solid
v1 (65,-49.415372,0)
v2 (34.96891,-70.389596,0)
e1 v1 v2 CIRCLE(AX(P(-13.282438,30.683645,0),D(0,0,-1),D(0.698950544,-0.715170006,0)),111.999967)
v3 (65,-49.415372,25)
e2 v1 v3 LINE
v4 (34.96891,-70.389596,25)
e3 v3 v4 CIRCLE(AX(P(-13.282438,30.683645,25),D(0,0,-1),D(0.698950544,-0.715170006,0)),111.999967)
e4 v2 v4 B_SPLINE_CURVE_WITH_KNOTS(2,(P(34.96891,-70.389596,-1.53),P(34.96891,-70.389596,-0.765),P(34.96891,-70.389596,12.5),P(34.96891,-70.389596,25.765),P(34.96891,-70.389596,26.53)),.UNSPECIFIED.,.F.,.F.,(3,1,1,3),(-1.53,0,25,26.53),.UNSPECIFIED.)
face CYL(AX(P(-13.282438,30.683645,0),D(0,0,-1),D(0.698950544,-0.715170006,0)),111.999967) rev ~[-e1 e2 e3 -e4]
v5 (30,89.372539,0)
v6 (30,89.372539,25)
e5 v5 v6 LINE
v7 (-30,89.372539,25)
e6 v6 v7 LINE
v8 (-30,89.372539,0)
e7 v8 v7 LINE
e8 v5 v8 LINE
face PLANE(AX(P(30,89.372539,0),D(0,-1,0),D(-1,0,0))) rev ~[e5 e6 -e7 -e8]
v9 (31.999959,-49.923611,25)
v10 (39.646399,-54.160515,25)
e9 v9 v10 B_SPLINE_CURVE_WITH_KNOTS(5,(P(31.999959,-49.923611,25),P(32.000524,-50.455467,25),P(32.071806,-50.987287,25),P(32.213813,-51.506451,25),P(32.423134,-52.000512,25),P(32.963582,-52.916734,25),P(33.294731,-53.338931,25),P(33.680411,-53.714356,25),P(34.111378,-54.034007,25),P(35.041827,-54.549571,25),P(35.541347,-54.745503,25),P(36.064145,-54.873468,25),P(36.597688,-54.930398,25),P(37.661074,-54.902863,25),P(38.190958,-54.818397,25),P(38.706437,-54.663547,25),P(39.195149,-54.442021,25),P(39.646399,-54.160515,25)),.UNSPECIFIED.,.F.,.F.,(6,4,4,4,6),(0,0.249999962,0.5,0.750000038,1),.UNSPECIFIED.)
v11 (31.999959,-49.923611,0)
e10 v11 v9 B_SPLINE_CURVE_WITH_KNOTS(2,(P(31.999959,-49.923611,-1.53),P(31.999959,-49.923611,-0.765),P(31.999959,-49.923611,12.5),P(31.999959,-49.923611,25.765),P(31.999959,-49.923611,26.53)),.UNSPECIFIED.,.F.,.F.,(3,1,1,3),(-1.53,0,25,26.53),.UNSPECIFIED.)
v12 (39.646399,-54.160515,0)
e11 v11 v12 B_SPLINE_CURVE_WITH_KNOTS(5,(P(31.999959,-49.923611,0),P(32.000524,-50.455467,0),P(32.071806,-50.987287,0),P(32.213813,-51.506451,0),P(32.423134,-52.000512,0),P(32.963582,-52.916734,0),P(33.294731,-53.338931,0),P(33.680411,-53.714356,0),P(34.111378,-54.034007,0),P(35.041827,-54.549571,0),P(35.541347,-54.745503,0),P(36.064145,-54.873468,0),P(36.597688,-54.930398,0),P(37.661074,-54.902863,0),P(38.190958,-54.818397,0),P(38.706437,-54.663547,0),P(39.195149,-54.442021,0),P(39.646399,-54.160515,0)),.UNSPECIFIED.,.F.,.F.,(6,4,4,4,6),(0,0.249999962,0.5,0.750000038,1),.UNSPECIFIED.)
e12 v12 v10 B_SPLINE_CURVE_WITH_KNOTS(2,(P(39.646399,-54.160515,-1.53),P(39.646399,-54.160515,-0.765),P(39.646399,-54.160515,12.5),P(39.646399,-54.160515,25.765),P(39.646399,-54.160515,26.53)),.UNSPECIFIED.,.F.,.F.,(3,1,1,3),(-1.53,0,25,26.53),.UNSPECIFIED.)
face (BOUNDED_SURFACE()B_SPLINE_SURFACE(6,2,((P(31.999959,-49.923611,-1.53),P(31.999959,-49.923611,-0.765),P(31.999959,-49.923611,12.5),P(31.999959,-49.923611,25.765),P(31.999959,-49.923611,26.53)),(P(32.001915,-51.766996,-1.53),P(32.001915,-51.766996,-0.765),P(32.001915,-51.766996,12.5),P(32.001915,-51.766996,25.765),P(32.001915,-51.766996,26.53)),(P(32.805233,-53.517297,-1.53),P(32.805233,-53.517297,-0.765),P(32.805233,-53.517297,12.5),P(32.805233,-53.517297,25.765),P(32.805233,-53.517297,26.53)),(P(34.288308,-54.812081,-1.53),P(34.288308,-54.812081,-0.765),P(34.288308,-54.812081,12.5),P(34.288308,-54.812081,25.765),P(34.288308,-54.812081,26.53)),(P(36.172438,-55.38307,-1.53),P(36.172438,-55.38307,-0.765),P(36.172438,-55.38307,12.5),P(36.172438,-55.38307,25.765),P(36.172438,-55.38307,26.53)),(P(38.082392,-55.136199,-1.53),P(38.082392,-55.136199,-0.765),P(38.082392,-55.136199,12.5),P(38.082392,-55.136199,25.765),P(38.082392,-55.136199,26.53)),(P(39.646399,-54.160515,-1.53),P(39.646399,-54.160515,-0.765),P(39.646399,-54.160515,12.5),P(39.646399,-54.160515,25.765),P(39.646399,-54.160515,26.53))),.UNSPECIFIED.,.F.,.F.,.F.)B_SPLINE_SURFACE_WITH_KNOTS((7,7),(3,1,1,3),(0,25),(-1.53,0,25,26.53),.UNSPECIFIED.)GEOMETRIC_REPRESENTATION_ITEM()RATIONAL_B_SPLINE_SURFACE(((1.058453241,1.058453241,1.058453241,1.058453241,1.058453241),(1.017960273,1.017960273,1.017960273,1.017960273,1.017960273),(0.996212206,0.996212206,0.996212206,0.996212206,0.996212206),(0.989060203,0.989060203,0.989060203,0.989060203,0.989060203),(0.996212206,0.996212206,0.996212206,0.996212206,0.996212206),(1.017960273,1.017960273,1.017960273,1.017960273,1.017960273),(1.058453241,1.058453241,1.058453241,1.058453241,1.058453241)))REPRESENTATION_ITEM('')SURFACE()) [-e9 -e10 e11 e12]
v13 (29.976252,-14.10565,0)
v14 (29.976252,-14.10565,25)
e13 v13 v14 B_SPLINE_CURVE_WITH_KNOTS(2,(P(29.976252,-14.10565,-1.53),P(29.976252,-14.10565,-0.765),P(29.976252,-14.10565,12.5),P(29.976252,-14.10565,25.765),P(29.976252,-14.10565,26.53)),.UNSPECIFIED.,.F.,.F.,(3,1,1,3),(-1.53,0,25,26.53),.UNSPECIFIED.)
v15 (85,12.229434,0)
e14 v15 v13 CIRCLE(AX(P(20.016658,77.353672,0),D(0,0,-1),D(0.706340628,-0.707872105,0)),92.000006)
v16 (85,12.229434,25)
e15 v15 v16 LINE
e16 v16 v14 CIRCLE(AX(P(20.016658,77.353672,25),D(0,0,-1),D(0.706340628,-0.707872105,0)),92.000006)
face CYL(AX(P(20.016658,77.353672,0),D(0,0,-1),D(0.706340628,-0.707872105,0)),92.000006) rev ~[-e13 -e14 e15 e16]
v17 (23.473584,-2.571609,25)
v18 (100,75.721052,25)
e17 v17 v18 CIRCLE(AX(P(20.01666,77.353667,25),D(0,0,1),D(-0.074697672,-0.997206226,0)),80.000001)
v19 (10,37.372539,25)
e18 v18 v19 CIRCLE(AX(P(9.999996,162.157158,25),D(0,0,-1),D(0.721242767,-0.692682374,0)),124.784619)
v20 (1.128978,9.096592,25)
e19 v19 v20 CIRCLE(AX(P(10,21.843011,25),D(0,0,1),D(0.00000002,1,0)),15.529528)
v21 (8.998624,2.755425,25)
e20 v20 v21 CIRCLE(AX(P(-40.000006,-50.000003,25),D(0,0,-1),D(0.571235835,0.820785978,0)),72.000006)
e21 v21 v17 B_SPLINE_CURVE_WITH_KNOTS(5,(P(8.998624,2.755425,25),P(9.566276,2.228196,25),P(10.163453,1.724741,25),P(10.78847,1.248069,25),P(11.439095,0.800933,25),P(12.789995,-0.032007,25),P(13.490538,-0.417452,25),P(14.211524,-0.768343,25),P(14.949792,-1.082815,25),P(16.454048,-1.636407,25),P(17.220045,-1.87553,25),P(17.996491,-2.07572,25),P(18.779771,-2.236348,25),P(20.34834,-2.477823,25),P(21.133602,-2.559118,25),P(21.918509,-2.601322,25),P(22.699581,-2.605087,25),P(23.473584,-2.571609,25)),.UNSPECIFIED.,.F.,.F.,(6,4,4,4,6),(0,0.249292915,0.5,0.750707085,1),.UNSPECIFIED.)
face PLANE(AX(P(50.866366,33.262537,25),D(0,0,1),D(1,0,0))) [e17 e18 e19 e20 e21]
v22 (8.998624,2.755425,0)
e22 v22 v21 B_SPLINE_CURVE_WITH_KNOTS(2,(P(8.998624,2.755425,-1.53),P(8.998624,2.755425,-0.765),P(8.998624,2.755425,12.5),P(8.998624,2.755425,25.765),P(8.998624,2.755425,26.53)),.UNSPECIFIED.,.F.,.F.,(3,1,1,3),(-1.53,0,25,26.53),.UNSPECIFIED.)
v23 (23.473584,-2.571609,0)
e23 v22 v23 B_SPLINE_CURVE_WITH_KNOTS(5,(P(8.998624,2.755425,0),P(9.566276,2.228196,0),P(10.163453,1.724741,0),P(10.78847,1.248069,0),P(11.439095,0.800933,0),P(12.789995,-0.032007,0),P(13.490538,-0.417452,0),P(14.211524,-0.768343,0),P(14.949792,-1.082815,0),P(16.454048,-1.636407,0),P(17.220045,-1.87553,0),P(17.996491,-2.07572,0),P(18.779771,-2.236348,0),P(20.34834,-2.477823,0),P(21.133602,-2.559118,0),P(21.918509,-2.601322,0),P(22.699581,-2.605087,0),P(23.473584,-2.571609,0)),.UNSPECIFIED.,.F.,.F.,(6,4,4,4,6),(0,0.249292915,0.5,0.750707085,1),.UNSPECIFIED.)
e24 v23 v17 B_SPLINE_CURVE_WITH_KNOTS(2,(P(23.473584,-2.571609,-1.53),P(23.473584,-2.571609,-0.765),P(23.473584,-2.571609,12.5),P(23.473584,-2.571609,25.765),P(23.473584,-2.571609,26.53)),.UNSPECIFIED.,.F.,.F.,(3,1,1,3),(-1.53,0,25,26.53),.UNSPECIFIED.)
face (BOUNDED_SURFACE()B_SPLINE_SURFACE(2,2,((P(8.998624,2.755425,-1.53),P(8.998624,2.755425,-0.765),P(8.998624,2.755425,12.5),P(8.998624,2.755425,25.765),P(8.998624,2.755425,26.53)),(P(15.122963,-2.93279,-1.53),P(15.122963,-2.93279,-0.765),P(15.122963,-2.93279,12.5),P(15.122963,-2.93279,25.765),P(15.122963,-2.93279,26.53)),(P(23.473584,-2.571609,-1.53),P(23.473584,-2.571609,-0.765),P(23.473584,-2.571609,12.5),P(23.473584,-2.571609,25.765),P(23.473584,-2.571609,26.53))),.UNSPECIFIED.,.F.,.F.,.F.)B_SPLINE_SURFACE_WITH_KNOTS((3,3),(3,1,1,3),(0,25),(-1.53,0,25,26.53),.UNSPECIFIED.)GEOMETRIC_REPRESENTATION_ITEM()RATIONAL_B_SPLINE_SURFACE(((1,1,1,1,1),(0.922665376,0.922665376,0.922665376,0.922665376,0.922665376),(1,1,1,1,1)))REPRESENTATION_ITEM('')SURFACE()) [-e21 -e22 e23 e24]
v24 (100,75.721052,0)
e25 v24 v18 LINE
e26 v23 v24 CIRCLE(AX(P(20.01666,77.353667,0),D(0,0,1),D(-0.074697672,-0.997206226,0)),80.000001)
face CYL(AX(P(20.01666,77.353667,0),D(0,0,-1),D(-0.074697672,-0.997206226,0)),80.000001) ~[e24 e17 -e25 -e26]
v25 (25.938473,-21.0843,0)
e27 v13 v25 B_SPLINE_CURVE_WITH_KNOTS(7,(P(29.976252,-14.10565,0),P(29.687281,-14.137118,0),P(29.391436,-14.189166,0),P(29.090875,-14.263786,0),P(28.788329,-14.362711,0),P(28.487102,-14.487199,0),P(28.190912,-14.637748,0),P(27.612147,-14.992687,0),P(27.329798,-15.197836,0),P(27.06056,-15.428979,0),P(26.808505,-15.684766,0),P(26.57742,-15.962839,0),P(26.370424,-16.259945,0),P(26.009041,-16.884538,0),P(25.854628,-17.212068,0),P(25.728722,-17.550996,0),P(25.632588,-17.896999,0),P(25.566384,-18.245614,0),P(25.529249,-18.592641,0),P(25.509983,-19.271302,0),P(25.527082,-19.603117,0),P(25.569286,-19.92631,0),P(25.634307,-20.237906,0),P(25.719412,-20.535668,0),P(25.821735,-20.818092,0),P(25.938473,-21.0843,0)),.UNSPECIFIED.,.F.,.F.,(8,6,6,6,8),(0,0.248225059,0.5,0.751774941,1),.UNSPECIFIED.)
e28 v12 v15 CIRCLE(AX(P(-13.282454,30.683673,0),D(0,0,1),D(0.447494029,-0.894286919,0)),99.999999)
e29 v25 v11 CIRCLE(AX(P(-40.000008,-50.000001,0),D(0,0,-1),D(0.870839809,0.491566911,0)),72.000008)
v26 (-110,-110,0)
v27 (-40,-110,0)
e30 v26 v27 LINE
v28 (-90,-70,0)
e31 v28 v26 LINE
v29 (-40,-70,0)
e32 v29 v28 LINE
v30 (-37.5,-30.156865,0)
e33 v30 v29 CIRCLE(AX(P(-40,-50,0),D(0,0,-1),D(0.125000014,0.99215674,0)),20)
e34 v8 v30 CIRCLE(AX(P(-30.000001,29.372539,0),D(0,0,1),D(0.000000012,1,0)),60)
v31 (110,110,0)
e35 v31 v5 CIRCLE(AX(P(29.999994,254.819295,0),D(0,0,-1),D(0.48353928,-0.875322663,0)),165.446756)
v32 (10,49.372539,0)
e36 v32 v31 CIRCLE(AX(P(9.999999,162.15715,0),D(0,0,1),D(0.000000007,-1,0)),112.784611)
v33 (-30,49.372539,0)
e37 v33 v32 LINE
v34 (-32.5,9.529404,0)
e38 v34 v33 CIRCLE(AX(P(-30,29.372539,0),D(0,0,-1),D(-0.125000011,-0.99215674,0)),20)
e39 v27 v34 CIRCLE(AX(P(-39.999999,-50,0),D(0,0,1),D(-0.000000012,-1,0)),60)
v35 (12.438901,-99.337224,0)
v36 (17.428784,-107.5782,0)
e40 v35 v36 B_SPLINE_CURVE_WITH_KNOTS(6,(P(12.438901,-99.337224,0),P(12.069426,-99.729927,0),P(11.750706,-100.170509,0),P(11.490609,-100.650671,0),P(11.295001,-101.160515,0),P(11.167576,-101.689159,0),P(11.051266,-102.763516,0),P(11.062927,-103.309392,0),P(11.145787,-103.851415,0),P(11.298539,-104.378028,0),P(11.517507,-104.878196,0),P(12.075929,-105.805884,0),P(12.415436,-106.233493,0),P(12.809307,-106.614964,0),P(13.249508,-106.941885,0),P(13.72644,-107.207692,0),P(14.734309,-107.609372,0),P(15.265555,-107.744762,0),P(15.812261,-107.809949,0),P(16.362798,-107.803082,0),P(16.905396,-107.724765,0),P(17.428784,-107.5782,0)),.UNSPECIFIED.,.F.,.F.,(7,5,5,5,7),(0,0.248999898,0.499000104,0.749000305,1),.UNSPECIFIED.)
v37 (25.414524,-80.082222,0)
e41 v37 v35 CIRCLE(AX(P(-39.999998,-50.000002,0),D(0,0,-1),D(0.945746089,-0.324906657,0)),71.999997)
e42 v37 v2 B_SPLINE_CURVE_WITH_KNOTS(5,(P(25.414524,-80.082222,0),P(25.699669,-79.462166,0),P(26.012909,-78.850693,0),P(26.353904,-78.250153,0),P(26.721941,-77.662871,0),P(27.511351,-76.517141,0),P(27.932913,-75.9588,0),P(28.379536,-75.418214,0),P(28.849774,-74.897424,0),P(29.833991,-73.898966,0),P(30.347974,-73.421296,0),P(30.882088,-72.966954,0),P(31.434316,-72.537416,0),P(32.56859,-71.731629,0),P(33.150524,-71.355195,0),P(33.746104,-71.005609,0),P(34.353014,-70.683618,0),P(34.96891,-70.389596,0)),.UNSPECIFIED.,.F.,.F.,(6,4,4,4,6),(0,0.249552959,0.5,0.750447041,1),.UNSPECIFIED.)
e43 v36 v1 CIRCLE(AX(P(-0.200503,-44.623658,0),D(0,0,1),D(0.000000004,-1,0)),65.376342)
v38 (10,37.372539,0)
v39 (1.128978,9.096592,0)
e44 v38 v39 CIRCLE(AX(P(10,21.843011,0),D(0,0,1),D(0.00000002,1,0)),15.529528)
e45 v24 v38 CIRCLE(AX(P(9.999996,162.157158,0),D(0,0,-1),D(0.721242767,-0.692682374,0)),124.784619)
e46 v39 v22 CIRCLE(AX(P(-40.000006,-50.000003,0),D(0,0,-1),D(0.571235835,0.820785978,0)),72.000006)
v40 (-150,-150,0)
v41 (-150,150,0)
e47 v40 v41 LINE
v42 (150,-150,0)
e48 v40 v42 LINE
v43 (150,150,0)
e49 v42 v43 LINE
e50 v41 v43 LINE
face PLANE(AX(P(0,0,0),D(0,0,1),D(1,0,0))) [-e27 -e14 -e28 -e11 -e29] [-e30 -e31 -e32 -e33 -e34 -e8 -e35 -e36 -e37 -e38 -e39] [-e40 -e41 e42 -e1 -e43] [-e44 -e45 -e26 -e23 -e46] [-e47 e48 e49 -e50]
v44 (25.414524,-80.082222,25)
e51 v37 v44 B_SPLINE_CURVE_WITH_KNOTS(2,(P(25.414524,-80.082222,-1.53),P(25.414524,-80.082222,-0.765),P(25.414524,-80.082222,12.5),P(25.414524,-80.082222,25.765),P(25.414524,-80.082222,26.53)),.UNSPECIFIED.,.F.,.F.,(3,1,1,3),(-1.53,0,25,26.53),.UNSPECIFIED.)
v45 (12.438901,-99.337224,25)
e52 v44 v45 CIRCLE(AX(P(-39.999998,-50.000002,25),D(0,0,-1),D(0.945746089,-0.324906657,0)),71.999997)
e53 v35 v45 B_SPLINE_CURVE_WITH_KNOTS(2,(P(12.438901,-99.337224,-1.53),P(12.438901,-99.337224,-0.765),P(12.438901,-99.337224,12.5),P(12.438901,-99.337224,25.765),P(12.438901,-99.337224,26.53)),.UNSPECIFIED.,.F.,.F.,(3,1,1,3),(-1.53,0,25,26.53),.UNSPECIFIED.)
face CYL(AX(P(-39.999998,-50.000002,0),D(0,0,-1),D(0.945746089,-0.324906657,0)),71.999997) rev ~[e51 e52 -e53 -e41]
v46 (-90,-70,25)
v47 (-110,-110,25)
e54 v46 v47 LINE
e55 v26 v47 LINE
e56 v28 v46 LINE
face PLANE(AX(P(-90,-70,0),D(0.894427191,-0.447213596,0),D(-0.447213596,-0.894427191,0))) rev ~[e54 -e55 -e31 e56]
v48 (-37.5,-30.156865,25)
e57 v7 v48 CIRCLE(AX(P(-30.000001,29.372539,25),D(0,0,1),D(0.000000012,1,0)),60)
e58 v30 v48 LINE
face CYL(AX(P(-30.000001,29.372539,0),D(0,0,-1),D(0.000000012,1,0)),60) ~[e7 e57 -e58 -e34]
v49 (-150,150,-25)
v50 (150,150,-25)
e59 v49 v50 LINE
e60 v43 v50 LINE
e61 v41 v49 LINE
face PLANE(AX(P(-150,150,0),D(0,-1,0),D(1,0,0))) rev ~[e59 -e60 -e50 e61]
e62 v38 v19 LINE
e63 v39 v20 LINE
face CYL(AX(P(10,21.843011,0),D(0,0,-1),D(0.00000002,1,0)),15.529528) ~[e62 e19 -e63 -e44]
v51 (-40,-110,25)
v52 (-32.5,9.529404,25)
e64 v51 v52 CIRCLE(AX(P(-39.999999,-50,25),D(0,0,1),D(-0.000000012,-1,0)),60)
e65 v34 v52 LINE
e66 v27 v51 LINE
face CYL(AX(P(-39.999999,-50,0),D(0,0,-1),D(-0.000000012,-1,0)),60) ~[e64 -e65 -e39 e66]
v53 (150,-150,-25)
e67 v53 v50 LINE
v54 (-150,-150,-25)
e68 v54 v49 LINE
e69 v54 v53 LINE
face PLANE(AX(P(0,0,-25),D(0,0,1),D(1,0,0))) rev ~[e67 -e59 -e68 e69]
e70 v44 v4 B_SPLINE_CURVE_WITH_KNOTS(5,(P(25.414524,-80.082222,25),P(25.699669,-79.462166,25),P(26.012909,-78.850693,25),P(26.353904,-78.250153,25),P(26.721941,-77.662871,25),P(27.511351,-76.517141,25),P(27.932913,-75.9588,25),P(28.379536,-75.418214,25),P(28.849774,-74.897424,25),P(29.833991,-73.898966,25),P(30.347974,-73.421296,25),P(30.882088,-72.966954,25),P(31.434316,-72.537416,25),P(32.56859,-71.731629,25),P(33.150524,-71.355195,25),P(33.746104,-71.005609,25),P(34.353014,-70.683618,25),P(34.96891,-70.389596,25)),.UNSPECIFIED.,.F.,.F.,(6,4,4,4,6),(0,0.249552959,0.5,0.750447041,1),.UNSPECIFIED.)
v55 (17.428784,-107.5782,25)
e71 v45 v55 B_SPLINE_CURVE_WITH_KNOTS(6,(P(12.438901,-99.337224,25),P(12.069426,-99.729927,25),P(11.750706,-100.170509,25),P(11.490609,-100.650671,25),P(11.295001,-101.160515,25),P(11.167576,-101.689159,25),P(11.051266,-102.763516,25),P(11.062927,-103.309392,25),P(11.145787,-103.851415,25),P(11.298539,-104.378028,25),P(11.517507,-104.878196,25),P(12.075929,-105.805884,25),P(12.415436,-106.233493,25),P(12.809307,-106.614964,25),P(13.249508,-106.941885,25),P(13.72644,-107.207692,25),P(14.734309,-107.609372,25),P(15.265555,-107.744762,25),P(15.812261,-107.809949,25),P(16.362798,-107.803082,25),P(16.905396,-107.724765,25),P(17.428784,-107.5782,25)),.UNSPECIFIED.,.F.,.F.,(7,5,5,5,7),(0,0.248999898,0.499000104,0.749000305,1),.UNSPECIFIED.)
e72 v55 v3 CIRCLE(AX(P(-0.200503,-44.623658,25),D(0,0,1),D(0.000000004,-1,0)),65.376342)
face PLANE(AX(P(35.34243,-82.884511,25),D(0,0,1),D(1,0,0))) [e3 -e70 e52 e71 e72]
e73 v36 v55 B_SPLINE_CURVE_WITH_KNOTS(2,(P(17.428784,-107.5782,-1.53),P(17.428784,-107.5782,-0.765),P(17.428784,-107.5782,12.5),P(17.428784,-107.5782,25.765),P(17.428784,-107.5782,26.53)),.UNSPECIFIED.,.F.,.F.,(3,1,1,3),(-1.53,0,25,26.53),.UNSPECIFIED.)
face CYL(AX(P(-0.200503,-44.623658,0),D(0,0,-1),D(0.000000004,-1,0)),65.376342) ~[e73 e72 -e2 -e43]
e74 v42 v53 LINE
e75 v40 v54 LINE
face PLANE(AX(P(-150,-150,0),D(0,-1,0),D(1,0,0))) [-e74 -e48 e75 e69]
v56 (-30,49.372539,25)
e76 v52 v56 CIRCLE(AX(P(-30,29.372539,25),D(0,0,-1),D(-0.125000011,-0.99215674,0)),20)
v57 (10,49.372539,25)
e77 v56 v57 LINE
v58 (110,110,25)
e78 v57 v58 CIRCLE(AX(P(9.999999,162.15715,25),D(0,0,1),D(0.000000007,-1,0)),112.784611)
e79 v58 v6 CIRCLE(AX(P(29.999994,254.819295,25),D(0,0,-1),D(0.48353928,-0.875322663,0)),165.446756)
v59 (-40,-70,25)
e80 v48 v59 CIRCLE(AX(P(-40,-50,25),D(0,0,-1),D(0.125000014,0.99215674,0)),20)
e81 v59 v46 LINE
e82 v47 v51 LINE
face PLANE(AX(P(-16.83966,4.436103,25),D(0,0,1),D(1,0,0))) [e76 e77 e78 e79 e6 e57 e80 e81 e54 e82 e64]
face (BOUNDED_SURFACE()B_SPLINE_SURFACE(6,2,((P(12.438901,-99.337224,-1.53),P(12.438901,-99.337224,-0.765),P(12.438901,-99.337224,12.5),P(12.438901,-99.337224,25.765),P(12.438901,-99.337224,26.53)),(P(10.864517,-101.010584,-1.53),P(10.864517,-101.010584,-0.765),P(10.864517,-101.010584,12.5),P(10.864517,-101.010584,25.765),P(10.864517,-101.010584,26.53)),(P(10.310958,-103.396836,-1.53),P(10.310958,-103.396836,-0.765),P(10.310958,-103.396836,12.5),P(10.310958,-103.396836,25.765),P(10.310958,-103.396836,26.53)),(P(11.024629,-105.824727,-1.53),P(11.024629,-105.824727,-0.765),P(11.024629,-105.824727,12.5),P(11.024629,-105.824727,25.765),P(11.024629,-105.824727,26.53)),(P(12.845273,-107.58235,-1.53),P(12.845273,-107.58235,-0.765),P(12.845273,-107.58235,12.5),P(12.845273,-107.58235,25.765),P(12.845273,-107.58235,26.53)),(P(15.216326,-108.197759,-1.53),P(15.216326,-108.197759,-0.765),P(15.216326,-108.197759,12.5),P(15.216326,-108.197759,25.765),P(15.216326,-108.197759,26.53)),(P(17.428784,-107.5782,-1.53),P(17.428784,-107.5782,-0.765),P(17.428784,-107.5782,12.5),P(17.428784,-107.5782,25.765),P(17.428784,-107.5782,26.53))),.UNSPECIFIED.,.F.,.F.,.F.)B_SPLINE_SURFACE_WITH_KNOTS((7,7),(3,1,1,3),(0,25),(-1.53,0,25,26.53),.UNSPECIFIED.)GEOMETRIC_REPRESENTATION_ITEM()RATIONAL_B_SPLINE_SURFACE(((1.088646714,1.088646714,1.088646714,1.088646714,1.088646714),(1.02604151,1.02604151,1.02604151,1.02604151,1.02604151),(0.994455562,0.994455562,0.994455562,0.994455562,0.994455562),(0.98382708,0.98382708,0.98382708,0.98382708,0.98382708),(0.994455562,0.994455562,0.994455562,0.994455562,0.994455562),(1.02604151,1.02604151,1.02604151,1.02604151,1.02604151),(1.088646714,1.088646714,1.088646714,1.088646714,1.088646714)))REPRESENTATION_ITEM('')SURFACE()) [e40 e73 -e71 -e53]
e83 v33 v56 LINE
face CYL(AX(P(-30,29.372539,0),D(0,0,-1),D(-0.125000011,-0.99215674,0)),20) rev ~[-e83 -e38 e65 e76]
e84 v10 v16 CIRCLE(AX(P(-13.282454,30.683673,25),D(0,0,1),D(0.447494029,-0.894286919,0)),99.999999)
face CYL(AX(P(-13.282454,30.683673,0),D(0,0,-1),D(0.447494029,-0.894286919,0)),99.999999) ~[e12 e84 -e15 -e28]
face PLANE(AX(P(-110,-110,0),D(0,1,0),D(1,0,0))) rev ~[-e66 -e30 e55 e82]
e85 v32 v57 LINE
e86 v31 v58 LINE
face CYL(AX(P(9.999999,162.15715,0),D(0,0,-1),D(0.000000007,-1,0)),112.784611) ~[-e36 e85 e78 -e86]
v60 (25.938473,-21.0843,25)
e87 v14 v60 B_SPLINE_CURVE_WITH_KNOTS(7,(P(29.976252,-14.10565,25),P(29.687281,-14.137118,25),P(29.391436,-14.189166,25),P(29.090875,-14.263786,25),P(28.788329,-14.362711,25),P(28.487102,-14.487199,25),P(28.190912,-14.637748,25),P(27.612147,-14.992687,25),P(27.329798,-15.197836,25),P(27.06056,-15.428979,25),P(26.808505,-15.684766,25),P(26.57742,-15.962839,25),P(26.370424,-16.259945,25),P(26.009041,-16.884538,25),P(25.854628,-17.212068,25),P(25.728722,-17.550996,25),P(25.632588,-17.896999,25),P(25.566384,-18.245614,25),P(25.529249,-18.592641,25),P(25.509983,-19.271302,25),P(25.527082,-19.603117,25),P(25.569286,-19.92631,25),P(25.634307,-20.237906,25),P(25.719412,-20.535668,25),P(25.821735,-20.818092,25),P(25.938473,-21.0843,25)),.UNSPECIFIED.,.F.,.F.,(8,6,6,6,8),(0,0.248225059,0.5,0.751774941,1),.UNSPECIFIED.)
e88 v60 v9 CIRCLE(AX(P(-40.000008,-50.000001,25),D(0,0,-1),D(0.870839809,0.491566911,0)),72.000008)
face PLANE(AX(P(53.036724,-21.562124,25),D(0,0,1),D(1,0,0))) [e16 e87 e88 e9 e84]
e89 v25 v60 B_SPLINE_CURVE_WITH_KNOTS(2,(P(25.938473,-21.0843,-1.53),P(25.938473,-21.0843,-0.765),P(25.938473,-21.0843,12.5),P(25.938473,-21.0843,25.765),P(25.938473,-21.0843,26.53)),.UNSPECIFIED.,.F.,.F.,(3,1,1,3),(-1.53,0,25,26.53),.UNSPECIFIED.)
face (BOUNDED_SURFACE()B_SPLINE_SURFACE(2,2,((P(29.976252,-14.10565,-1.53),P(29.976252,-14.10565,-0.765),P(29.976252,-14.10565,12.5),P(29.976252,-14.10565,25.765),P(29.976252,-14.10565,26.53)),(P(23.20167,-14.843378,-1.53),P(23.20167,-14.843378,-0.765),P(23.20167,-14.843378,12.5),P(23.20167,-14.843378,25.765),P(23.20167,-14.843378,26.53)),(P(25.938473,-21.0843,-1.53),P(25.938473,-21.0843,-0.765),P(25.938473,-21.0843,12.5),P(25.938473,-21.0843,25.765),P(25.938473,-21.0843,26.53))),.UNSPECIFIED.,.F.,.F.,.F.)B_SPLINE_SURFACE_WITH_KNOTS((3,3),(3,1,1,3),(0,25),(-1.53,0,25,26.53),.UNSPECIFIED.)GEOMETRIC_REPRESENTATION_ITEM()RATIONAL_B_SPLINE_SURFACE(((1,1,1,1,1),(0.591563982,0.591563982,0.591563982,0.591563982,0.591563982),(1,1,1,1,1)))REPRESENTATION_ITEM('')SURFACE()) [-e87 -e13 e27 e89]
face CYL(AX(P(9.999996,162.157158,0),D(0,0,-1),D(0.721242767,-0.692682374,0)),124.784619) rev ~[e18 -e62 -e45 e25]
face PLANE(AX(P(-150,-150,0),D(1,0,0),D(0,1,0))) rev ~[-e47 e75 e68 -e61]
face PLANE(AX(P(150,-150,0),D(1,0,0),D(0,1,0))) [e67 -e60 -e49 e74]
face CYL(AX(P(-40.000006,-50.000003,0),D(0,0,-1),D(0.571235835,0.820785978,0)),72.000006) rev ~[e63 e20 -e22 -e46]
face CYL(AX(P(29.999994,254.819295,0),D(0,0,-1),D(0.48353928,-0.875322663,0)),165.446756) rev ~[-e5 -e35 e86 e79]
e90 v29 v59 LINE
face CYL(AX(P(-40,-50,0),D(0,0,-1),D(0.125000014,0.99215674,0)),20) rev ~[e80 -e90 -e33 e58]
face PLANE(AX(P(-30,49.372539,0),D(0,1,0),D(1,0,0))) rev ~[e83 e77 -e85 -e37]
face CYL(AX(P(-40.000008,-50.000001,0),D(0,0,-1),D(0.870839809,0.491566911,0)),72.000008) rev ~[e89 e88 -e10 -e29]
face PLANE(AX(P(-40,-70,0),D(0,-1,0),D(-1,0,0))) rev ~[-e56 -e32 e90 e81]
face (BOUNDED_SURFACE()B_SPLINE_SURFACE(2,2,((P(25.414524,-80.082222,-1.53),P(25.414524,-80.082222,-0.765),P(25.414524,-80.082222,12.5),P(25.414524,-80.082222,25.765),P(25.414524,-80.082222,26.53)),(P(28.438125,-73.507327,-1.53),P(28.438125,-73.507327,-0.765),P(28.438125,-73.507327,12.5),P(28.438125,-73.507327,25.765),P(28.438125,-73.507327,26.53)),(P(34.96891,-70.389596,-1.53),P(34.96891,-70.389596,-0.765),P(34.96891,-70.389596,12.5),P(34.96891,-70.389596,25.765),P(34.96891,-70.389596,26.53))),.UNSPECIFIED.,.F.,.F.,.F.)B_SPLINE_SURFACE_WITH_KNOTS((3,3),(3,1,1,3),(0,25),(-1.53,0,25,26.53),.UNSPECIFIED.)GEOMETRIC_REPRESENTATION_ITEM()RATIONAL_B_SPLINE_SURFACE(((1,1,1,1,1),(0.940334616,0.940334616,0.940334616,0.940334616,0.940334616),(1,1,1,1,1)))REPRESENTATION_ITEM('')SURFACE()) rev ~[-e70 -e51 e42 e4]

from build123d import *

# Parameters (mm, degrees)
F0_W     = 300
F0_H     = 300
F1_DEPTH = 25
F3_DEPTH = 25
F4_R     = 20
F5_R     = 5


with BuildPart() as f1:
    # F0 (on Top) → F1 (new body)
    with BuildSketch(Plane.XY):
        Rectangle(F0_W, F0_H)
    extrude(amount=-F1_DEPTH)

    # F2 (on face) → F3 (join)
    with BuildSketch(Plane.XY):
        with BuildLine():
            ThreePointArc((-37.5, -30.156865), (-20.039255, -51.252458), (-40, -70))
            Line((-40, -70), (-90, -70))
            Line((-90, -70), (-110, -110))
            Line((-110, -110), (-40, -110))
            ThreePointArc((-40, -110), (19.882236, -53.757375), (-32.5, 9.529404))
            ThreePointArc((-32.5, 9.529404), (-49.960745, 30.624998), (-30, 49.372539))
            Line((-30, 49.372539), (10, 49.372539))
            ThreePointArc((10, 49.372539), (68.471551, 65.713145), (110, 110))
            ThreePointArc((110, 110), (71.308268, 94.61238), (30, 89.372539))
            Line((30, 89.372539), (-30, 89.372539))
            ThreePointArc((-30, 89.372539), (-89.882236, 33.129914), (-37.5, -30.156865))
        make_face()
        with BuildLine():
            ThreePointArc((100, 75.721052), (58.914743, 47.359298), (10, 37.372539))
            ThreePointArc((10, 37.372539), (-4.817424, 26.491687), (1.128978, 9.096592))
            ThreePointArc((1.128978, 9.096592), (7.932224, 3.726175), (14.040846, -2.422832))
            ThreePointArc((14.040846, -2.422832), (73.830182, 18.158186), (100, 75.721052))
        make_face()
        with BuildLine():
            ThreePointArc((85, 12.229434), (56.413934, -7.140348), (22.700465, -14.60718))
            ThreePointArc((22.700465, -14.60718), (30.620541, -35.973627), (31.466948, -58.745018))
            ThreePointArc((31.466948, -58.745018), (66.554074, -29.533671), (85, 12.229434))
        make_face()
        with BuildLine():
            ThreePointArc((28.093718, -73.39328), (16.967091, -94.031245), (-0.200503, -110))
            ThreePointArc((-0.200503, -110), (44.30119, -92.515885), (65, -49.415372))
            ThreePointArc((65, -49.415372), (47.736246, -63.235005), (28.093718, -73.39328))
        make_face()
    extrude(amount=F3_DEPTH)

    # F4
    f4_edges = [f1.edges().sort_by_distance(p)[0] for p in [
        (14.040846, -2.422832, 12.5),
        (28.093718, -73.39328, 12.5),
    ]]
    fillet(f4_edges, radius=F4_R)

    # F5
    f5_edges = [f1.edges().sort_by_distance(p)[0] for p in [
        (22.700465, -14.60718, 12.5),
        (31.466948, -58.745018, 12.5),
        (-0.200503, -110, 12.5),
    ]]
    fillet(f5_edges, radius=F5_R)


solid = f1.part
